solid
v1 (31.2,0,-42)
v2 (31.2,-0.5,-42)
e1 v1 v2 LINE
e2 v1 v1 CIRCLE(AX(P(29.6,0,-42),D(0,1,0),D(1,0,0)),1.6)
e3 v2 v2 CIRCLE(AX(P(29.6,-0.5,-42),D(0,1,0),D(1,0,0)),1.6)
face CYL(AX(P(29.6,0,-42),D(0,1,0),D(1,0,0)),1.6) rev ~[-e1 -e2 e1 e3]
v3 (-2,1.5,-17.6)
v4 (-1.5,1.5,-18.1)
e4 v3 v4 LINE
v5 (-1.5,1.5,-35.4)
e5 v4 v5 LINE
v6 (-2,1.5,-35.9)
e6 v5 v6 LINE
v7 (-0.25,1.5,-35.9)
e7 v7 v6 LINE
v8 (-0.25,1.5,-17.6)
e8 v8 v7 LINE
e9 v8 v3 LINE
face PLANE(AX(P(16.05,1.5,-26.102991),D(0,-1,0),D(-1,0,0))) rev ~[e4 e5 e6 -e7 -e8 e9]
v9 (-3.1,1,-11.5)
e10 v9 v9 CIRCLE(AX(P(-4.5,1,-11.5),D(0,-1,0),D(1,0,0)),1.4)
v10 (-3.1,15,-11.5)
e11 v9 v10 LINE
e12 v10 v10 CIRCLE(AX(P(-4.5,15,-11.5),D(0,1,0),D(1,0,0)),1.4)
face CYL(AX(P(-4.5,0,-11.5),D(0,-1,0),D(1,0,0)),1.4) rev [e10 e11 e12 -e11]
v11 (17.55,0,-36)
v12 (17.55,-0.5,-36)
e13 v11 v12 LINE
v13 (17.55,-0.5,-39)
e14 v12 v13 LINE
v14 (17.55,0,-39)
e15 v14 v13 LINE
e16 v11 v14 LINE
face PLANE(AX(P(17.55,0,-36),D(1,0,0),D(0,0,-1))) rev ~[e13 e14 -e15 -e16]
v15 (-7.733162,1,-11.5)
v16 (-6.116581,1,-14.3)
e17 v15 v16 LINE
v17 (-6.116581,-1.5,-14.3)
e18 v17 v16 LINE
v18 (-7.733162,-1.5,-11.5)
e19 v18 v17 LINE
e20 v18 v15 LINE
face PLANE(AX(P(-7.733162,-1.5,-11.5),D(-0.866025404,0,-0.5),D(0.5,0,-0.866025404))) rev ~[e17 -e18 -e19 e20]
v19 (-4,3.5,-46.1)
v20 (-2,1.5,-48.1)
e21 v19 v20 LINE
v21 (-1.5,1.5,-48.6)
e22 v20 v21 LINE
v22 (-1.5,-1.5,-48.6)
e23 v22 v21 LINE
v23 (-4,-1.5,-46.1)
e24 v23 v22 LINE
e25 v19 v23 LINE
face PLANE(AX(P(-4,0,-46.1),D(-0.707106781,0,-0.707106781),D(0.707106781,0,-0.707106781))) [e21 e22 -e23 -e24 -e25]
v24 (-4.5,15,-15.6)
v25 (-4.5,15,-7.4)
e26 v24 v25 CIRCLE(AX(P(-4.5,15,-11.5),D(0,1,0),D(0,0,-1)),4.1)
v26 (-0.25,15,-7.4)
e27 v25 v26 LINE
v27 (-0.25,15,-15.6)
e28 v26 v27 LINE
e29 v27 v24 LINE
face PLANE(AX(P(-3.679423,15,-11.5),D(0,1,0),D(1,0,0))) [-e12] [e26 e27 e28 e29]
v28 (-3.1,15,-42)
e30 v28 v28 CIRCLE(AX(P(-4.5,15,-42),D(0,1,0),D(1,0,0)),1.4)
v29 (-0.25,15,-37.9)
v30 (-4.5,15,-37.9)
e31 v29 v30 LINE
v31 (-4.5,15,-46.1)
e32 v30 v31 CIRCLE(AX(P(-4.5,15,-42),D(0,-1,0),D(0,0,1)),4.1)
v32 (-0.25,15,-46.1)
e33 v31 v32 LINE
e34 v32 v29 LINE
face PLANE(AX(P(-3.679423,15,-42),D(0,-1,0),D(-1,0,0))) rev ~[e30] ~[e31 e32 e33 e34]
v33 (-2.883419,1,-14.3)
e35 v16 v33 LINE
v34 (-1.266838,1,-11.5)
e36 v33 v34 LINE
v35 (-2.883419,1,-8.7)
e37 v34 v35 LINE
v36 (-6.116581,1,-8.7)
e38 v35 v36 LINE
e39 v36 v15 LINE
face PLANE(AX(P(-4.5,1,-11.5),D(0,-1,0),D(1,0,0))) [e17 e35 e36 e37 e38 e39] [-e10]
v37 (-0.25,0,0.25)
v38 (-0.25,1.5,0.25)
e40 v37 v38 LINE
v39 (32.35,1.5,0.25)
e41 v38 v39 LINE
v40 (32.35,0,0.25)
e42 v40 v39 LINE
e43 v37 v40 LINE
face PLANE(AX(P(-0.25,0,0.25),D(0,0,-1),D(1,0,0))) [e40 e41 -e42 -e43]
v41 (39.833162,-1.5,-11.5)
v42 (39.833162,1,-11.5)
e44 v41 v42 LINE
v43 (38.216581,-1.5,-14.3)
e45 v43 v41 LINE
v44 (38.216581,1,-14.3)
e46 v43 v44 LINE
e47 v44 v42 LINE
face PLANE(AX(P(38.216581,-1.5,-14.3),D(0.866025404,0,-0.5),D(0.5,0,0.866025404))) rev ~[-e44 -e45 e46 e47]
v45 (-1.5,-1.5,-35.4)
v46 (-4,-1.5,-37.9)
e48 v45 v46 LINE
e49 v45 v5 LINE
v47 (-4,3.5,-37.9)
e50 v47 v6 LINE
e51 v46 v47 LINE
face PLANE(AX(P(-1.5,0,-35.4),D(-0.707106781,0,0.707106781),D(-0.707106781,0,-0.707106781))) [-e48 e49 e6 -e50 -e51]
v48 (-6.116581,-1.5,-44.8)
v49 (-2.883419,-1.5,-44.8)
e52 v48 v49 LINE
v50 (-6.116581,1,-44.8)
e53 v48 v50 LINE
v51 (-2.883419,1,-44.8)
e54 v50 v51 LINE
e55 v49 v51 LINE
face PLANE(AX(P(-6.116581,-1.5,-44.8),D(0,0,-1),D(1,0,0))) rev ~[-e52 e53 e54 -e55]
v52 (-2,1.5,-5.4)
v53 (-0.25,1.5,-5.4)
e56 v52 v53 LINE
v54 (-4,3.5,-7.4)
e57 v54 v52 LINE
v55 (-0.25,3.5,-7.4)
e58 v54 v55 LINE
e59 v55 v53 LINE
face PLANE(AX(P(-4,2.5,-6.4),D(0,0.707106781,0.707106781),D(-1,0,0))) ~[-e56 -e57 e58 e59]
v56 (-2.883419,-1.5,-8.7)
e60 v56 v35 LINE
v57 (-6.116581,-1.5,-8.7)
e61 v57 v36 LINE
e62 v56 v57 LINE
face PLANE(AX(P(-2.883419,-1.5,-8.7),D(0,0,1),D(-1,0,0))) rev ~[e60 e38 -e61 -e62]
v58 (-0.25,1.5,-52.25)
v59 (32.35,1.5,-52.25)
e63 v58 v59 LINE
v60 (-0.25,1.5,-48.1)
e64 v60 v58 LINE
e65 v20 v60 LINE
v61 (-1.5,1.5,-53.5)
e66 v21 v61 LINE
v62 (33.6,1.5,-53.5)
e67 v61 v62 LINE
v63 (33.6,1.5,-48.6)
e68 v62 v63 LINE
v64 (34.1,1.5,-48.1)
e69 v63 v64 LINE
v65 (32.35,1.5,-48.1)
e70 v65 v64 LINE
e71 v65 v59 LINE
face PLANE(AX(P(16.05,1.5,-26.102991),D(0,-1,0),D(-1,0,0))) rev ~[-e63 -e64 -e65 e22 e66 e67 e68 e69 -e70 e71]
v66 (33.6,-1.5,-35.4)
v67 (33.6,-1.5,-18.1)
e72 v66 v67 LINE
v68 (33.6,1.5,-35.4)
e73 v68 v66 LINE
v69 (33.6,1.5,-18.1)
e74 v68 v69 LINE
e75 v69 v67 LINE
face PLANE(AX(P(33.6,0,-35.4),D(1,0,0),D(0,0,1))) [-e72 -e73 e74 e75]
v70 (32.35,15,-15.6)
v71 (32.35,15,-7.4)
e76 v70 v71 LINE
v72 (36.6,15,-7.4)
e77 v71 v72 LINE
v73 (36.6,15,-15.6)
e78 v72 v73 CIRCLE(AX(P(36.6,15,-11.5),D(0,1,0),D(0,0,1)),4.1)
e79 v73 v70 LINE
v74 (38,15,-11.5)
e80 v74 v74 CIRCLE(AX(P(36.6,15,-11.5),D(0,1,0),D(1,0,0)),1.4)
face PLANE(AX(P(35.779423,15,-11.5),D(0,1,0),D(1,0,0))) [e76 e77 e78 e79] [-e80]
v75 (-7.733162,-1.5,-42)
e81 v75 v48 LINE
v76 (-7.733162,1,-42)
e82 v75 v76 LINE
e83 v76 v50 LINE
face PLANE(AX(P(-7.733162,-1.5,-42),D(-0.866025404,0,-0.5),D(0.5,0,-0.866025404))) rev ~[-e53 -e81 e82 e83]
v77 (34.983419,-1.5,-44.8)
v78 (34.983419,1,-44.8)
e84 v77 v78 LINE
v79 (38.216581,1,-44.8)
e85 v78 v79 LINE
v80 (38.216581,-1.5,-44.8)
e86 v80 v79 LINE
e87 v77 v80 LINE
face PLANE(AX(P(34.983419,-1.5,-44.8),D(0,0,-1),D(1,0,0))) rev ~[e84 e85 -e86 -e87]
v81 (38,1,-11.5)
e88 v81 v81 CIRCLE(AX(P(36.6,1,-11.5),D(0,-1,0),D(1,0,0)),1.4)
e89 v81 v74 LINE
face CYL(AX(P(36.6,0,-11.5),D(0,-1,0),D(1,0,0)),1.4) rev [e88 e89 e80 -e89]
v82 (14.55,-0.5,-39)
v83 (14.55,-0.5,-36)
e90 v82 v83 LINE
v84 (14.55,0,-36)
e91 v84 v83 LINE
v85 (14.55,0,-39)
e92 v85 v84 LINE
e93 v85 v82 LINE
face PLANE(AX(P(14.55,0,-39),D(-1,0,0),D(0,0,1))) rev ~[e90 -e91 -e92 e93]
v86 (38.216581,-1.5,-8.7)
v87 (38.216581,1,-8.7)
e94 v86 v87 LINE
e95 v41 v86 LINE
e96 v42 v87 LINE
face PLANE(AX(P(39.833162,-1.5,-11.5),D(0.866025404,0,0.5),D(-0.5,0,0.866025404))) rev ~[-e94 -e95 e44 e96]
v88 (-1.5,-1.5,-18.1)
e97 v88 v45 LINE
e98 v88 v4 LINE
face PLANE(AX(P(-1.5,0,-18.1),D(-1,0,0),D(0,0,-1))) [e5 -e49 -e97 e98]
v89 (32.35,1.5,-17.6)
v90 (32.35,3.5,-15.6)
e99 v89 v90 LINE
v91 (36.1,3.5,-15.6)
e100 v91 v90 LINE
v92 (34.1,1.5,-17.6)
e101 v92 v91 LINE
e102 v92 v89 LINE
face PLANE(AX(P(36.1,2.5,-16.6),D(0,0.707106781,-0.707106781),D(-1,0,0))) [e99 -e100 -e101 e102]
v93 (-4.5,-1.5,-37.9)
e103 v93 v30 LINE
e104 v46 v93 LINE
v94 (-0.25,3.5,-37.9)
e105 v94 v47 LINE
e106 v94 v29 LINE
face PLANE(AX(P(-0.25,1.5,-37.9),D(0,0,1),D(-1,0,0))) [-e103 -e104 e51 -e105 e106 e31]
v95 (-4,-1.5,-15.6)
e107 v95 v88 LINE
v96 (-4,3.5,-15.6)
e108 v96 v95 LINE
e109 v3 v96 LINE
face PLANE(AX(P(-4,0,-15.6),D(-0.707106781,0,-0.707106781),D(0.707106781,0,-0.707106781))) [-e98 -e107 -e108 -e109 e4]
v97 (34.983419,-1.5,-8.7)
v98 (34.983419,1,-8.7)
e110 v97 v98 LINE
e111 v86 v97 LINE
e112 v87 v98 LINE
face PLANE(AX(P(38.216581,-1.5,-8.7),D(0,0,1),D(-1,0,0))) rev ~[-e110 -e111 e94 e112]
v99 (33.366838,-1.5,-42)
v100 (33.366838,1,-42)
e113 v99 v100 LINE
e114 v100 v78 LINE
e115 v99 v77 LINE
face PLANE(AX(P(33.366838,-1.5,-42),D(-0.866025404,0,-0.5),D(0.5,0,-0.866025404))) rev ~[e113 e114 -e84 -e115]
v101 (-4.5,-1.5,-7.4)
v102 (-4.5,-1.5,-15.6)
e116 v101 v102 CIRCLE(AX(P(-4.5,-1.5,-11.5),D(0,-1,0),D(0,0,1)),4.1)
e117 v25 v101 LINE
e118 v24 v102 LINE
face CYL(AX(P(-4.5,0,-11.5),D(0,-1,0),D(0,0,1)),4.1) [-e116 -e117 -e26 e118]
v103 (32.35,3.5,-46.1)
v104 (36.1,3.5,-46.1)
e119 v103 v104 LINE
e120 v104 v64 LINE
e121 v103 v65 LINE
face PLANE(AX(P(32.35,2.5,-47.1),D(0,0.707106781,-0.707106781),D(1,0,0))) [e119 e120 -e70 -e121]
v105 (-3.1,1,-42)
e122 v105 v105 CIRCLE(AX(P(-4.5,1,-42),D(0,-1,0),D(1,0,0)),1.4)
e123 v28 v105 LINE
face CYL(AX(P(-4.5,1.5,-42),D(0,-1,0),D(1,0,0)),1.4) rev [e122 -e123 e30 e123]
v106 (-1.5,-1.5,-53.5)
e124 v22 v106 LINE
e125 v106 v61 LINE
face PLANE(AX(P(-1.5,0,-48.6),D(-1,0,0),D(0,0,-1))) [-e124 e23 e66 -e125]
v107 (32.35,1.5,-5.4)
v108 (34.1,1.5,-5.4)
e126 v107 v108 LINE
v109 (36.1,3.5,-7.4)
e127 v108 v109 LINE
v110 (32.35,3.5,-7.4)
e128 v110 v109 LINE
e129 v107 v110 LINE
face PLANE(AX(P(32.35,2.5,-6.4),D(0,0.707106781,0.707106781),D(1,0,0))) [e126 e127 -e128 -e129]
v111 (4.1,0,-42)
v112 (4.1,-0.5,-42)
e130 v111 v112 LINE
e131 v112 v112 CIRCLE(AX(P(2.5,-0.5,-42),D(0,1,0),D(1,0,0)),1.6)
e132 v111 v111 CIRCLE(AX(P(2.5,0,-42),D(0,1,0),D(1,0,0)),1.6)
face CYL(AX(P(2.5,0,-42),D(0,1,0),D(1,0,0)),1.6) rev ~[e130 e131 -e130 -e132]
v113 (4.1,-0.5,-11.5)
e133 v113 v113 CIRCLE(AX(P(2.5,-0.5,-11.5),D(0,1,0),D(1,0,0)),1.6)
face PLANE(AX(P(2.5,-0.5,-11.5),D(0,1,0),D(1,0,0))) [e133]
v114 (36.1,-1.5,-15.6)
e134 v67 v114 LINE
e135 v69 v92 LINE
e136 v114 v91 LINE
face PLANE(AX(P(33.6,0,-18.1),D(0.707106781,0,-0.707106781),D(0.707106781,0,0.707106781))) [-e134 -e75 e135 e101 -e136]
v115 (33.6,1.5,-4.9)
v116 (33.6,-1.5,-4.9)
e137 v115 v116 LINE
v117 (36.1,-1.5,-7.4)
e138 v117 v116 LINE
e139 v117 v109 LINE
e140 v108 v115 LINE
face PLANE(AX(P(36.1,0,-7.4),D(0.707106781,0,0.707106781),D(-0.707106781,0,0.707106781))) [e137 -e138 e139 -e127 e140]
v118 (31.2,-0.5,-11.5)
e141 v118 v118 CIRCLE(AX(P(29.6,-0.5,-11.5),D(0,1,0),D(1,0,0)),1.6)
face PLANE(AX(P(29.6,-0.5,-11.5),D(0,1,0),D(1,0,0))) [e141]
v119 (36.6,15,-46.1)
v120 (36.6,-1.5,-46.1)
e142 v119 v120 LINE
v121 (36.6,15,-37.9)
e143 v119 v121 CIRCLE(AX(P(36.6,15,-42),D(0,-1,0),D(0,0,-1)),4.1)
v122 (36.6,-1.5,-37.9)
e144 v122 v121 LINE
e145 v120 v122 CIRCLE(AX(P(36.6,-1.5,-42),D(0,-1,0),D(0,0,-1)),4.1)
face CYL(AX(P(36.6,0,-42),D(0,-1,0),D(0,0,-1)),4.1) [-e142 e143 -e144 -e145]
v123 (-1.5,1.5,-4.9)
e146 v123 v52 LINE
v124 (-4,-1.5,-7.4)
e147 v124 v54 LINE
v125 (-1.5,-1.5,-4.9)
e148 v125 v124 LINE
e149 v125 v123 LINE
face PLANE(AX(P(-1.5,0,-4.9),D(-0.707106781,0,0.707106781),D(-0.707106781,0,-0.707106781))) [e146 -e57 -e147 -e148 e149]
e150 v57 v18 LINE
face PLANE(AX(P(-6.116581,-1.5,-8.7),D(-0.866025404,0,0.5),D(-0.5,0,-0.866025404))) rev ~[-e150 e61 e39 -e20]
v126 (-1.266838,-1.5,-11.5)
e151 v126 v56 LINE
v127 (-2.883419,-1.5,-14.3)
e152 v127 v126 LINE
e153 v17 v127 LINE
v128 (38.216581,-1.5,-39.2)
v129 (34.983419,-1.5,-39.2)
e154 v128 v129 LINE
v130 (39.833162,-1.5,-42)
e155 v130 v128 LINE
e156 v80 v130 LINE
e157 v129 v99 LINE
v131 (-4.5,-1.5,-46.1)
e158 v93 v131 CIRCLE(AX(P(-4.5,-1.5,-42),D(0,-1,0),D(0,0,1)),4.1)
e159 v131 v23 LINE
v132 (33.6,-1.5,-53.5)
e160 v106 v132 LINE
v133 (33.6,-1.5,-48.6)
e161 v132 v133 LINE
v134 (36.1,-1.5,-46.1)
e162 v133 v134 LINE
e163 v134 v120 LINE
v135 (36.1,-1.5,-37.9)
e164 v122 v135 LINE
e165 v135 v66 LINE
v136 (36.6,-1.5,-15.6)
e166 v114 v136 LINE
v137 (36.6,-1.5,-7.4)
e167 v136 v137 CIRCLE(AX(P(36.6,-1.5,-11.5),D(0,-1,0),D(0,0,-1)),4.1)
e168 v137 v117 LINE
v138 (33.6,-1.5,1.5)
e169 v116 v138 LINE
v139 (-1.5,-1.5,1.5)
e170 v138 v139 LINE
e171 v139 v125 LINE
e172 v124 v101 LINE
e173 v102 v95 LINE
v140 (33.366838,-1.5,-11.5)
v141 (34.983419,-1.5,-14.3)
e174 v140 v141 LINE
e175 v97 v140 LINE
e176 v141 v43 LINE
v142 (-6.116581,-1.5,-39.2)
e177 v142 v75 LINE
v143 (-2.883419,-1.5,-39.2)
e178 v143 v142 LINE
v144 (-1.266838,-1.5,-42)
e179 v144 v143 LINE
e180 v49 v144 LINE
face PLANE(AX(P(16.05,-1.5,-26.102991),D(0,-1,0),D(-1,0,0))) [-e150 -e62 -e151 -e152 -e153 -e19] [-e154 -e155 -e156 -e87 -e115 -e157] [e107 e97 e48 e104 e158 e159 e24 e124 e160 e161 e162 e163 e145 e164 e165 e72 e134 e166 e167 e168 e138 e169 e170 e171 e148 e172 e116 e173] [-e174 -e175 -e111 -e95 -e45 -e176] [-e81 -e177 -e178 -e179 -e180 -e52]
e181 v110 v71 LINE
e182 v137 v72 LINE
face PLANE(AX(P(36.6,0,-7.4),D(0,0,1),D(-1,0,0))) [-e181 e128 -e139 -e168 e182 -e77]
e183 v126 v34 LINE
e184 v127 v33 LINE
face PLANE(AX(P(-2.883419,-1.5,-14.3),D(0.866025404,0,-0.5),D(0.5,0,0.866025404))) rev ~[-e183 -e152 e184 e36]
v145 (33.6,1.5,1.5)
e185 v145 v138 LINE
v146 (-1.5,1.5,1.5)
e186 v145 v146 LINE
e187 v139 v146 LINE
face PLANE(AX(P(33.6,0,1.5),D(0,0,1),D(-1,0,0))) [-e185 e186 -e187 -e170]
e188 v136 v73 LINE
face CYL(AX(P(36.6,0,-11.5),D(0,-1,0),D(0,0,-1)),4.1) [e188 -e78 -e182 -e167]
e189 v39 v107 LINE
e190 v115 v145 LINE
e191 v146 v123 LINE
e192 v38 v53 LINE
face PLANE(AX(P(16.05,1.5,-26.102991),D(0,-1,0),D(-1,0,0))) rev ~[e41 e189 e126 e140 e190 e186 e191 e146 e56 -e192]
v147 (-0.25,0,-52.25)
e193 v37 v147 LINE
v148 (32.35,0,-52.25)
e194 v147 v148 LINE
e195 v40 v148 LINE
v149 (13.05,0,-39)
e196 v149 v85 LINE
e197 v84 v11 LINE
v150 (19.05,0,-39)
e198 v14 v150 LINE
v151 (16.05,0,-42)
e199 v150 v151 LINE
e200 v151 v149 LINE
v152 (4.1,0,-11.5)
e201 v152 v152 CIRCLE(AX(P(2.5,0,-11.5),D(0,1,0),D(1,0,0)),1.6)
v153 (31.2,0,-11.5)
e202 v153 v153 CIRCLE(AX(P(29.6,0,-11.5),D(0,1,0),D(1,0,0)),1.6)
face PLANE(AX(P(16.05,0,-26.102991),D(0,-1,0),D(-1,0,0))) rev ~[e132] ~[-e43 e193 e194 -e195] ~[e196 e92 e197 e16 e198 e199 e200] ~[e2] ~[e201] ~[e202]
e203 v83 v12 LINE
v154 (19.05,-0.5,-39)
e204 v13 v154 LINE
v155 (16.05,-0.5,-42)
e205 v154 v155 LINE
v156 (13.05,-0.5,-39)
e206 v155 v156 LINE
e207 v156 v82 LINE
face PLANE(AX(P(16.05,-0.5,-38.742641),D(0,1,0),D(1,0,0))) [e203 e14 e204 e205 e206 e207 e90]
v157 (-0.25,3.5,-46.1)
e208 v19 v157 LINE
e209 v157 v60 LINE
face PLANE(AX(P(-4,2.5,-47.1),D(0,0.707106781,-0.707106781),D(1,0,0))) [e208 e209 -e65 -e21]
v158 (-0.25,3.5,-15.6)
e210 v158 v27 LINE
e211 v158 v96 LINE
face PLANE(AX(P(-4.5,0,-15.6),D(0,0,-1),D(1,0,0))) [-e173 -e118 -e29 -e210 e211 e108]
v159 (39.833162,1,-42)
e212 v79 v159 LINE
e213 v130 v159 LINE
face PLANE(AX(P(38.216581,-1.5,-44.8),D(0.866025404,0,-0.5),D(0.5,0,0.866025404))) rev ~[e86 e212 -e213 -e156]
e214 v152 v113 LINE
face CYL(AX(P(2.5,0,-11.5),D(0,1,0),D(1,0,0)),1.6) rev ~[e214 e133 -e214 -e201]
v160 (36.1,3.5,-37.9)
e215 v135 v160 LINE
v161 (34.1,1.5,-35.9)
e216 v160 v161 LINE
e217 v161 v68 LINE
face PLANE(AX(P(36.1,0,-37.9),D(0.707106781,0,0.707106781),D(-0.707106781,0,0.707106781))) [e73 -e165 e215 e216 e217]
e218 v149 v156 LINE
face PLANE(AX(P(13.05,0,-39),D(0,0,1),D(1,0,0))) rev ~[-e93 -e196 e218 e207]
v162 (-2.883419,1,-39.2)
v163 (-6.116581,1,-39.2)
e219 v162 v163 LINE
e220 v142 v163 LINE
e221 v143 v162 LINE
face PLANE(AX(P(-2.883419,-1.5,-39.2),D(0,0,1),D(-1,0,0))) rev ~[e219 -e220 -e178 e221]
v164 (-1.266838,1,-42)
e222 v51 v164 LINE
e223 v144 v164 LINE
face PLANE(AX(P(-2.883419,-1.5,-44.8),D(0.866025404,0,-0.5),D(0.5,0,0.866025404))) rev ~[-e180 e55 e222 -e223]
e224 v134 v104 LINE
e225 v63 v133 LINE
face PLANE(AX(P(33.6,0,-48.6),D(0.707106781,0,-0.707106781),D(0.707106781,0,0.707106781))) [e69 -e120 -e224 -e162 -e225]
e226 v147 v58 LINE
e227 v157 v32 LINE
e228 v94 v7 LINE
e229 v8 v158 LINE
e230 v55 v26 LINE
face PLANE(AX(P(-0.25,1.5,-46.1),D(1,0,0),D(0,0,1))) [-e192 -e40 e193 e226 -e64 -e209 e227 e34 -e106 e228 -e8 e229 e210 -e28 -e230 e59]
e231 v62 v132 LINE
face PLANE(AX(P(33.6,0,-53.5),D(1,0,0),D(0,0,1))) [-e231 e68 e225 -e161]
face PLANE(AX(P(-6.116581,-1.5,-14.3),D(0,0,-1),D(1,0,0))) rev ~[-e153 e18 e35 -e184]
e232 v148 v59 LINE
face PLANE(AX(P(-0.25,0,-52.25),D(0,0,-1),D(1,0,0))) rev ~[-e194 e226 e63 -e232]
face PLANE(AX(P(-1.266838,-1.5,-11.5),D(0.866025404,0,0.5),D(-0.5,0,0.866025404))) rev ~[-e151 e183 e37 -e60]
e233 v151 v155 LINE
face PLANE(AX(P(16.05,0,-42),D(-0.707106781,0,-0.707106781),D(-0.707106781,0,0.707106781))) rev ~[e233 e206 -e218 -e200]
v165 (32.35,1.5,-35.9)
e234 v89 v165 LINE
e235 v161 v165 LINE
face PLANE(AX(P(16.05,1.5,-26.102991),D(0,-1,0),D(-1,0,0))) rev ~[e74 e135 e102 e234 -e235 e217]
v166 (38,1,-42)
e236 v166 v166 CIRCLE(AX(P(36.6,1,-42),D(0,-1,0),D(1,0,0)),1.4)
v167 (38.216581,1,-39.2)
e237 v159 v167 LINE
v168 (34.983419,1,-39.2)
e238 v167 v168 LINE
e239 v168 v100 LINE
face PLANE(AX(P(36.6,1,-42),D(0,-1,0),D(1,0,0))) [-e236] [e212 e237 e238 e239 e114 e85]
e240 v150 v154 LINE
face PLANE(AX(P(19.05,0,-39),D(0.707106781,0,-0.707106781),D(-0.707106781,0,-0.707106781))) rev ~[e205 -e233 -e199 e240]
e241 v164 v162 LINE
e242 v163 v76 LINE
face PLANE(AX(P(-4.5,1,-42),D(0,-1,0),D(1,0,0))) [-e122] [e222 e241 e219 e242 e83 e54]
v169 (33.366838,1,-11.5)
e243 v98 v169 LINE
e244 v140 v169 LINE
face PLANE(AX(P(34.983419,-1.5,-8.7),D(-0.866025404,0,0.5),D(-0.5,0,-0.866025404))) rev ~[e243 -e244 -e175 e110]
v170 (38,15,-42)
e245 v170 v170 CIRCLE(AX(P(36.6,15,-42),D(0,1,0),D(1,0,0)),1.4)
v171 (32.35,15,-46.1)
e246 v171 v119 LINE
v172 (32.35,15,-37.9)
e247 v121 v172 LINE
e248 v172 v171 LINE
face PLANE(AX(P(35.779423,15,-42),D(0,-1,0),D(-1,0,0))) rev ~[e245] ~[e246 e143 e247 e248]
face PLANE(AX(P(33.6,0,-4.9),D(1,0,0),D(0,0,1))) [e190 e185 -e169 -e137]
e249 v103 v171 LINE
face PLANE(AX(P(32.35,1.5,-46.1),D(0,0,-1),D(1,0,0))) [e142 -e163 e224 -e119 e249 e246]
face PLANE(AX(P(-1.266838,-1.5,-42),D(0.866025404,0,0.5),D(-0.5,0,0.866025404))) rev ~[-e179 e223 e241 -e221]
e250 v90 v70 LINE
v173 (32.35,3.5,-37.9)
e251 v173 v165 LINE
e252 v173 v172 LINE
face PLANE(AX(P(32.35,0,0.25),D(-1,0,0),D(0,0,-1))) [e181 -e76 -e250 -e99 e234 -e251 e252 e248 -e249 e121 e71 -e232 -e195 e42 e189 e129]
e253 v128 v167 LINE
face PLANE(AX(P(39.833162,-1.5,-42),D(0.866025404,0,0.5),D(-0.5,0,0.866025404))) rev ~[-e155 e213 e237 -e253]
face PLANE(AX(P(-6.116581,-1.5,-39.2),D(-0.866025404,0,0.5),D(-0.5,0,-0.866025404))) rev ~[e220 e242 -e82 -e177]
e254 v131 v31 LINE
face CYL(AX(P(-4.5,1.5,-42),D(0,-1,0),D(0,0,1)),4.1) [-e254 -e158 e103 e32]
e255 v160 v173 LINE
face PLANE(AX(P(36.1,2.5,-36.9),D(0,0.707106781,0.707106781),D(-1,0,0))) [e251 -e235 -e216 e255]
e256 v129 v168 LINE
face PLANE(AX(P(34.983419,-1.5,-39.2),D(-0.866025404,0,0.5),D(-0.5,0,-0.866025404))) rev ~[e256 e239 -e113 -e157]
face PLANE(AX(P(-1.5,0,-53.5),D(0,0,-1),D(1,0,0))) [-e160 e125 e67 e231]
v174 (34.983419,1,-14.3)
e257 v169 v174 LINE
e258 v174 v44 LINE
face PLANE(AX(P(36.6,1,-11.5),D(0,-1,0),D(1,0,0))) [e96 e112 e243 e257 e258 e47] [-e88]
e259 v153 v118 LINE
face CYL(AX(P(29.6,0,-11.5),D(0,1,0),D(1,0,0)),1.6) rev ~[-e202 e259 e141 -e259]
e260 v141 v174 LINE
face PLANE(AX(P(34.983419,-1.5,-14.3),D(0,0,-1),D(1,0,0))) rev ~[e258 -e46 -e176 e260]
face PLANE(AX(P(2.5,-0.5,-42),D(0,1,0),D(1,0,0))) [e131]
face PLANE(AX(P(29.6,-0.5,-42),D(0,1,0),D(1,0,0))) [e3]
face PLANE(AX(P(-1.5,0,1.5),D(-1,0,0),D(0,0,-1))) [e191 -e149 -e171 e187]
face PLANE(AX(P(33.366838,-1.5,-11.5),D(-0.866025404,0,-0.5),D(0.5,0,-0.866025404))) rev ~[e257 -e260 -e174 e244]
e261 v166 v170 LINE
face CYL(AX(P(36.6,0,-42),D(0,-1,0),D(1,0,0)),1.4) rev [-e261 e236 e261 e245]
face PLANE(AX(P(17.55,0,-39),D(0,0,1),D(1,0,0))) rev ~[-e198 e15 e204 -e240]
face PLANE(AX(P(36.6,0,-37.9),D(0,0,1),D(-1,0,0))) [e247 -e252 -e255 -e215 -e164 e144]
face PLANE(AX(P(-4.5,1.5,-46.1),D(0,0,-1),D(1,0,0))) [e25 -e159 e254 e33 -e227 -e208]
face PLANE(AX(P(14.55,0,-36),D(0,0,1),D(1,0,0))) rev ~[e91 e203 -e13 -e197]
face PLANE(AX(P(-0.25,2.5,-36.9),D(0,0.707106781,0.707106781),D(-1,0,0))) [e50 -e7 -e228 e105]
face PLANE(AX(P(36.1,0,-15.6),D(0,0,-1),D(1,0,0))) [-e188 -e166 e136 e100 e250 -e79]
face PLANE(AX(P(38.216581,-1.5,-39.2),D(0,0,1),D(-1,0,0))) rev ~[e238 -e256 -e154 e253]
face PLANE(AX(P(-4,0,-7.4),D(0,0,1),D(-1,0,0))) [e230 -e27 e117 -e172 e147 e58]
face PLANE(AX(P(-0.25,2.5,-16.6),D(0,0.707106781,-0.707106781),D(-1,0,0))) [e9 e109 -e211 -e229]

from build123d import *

# Parameters (mm, degrees)
SKETCH2_R               = 1.4
BOSS_EXTRUDE1_DEPTH     = 1.5
SKETCH5_R               = 1.6
CUT_EXTRUDE1_DEPTH      = 0.5
SKETCH3_R               = 1.4
SKETCH3_W               = 32.6
SKETCH3_H               = 52.5
BOSS_EXTRUDE2_DEPTH     = 1.5
SKETCH4_R               = 1.4
BOSS_EXTRUDE3_DEPTH     = 13.5
CHAMFER1_SIZE           = 2
CUT_EXTRUDE2_DEPTH      = 1
CUT_EXTRUDE2_DEPTH_BACK = 2.5


with BuildPart() as part:
    # Sketch2 → Boss-Extrude1 (new body)
    with BuildSketch(Plane(origin=(0, 0, 0), x_dir=(1, 0, 0), z_dir=(0, 1, 0))):
        with BuildLine():
            Line((-1.5, -1.5), (-1.5, 4.9))
            Line((-1.5, 4.9), (-4, 7.4))
            Line((-4, 7.4), (-4.5, 7.4))
            ThreePointArc((-4.5, 7.4), (-8.6, 11.5), (-4.5, 15.6))
            Line((-4.5, 15.6), (-4, 15.6))
            Line((-4, 15.6), (-1.5, 18.1))
            Line((-1.5, 18.1), (-1.5, 35.4))
            Line((-1.5, 35.4), (-4, 37.9))
            Line((-4, 37.9), (-4.5, 37.9))
            ThreePointArc((-4.5, 37.9), (-8.6, 42), (-4.5, 46.1))
            Line((-4.5, 46.1), (-4, 46.1))
            Line((-4, 46.1), (-1.5, 48.6))
            Line((-1.5, 48.6), (-1.5, 53.5))
            Line((-1.5, 53.5), (33.6, 53.5))
            Line((33.6, 53.5), (33.6, 48.6))
            Line((33.6, 48.6), (36.1, 46.1))
            Line((36.1, 46.1), (36.6, 46.1))
            ThreePointArc((36.6, 46.1), (40.7, 42), (36.6, 37.9))
            Line((36.6, 37.9), (36.1, 37.9))
            Line((36.1, 37.9), (33.6, 35.4))
            Line((33.6, 35.4), (33.6, 18.1))
            Line((33.6, 18.1), (36.1, 15.6))
            Line((36.1, 15.6), (36.6, 15.6))
            ThreePointArc((36.6, 15.6), (40.7, 11.5), (36.6, 7.4))
            Line((36.6, 7.4), (36.1, 7.4))
            Line((36.1, 7.4), (33.6, 4.9))
            Line((33.6, 4.9), (33.6, -1.5))
            Line((33.6, -1.5), (-1.5, -1.5))
        make_face()
        with Locations((-4.5, 42)):
            Circle(SKETCH2_R, mode=Mode.SUBTRACT)
        with Locations((-4.5, 11.5)):
            Circle(SKETCH2_R, mode=Mode.SUBTRACT)
        with Locations((36.6, 11.5)):
            Circle(SKETCH2_R, mode=Mode.SUBTRACT)
        with Locations((36.6, 42)):
            Circle(SKETCH2_R, mode=Mode.SUBTRACT)
    extrude(amount=-BOSS_EXTRUDE1_DEPTH)

    # Sketch5 → Cut-Extrude1 (cut)
    with BuildSketch(Plane(origin=(0, 0, 0), x_dir=(1, 0, 0), z_dir=(0, 1, 0))):
        with Locations((2.5, 42)):
            Circle(SKETCH5_R)
        with Locations((29.6, 42)):
            Circle(SKETCH5_R)
        with Locations((29.6, 11.5)):
            Circle(SKETCH5_R)
        with Locations((2.5, 11.5)):
            Circle(SKETCH5_R)
        Polygon((14.55, 36), (17.55, 36), (17.55, 39), (19.05, 39), (16.05, 42), (13.05, 39), (14.55, 39), align=None)
    extrude(amount=-CUT_EXTRUDE1_DEPTH, mode=Mode.SUBTRACT)

    # Sketch3 → Boss-Extrude2 (add)
    with BuildSketch(Plane(origin=(0, 0, 0), x_dir=(1, 0, 0), z_dir=(0, 1, 0))):
        with BuildLine():
            Line((-1.5, 53.5), (33.6, 53.5))
            Line((33.6, 53.5), (33.6, 48.6))
            Line((33.6, 48.6), (36.1, 46.1))
            Line((36.1, 46.1), (36.6, 46.1))
            ThreePointArc((36.6, 46.1), (40.7, 42), (36.6, 37.9))
            Line((36.6, 37.9), (36.1, 37.9))
            Line((36.1, 37.9), (33.6, 35.4))
            Line((33.6, 35.4), (33.6, 18.1))
            Line((33.6, 18.1), (36.1, 15.6))
            Line((36.1, 15.6), (36.6, 15.6))
            ThreePointArc((36.6, 15.6), (40.7, 11.5), (36.6, 7.4))
            Line((36.6, 7.4), (36.1, 7.4))
            Line((36.1, 7.4), (33.6, 4.9))
            Line((33.6, 4.9), (33.6, -1.5))
            Line((33.6, -1.5), (-1.5, -1.5))
            Line((-1.5, -1.5), (-1.5, 4.9))
            Line((-1.5, 4.9), (-4, 7.4))
            Line((-4, 7.4), (-4.5, 7.4))
            ThreePointArc((-4.5, 7.4), (-8.6, 11.5), (-4.5, 15.6))
            Line((-4.5, 15.6), (-4, 15.6))
            Line((-4, 15.6), (-1.5, 18.1))
            Line((-1.5, 18.1), (-1.5, 35.4))
            Line((-1.5, 35.4), (-4, 37.9))
            Line((-4, 37.9), (-4.5, 37.9))
            ThreePointArc((-4.5, 37.9), (-8.6, 42), (-4.5, 46.1))
            Line((-4.5, 46.1), (-4, 46.1))
            Line((-4, 46.1), (-1.5, 48.6))
            Line((-1.5, 48.6), (-1.5, 53.5))
        make_face()
        with Locations((-4.5, 42)):
            Circle(SKETCH3_R, mode=Mode.SUBTRACT)
        with Locations((36.6, 42)):
            Circle(SKETCH3_R, mode=Mode.SUBTRACT)
        with Locations((36.6, 11.5)):
            Circle(SKETCH3_R, mode=Mode.SUBTRACT)
        with Locations((-4.5, 11.5)):
            Circle(SKETCH3_R, mode=Mode.SUBTRACT)
        with Locations((16.05, 26)):
            Rectangle(SKETCH3_W, SKETCH3_H, mode=Mode.SUBTRACT)
    extrude(amount=BOSS_EXTRUDE2_DEPTH)

    # Sketch4 → Boss-Extrude3 (add)
    with BuildSketch(Plane(origin=(0, 1.5, 0), x_dir=(1, 0, 0), z_dir=(0, 1, 0))):
        with BuildLine():
            Line((-4.5, 46.1), (-0.25, 46.1))
            Line((-0.25, 46.1), (-0.25, 37.9))
            Line((-0.25, 37.9), (-4.5, 37.9))
            ThreePointArc((-4.5, 37.9), (-8.6, 42), (-4.5, 46.1))
        make_face()
        with Locations((-4.5, 42)):
            Circle(SKETCH4_R, mode=Mode.SUBTRACT)
        with BuildLine():
            Line((-4.5, 7.4), (-0.25, 7.4))
            Line((-0.25, 7.4), (-0.25, 15.6))
            Line((-0.25, 15.6), (-4.5, 15.6))
            ThreePointArc((-4.5, 15.6), (-8.6, 11.5), (-4.5, 7.4))
        make_face()
        with Locations((-4.5, 11.5)):
            Circle(SKETCH4_R, mode=Mode.SUBTRACT)
        with BuildLine():
            Line((32.35, 15.6), (32.35, 7.4))
            Line((32.35, 7.4), (36.6, 7.4))
            ThreePointArc((36.6, 7.4), (40.7, 11.5), (36.6, 15.6))
            Line((36.6, 15.6), (32.35, 15.6))
        make_face()
        with Locations((36.6, 11.5)):
            Circle(SKETCH4_R, mode=Mode.SUBTRACT)
        with BuildLine():
            Line((32.35, 46.1), (36.6, 46.1))
            ThreePointArc((36.6, 46.1), (40.7, 42), (36.6, 37.9))
            Line((36.6, 37.9), (32.35, 37.9))
            Line((32.35, 37.9), (32.35, 46.1))
        make_face()
        with Locations((36.6, 42)):
            Circle(SKETCH4_R, mode=Mode.SUBTRACT)
    extrude(amount=BOSS_EXTRUDE3_DEPTH)

    # Chamfer1
    chamfer1_edges = [part.edges().sort_by_distance(p)[0] for p in [
        (34.225, 1.5, -37.9),
        (34.225, 1.5, -46.1),
        (34.225, 1.5, -15.6),
        (34.225, 1.5, -7.4),
        (-2.125, 1.5, -7.4),
        (-2.125, 1.5, -15.6),
        (-2.125, 1.5, -37.9),
        (-2.125, 1.5, -46.1),
    ]]
    chamfer(chamfer1_edges, length=CHAMFER1_SIZE)

    # Sketch6 → Cut-Extrude2 (cut, two sides)
    with BuildSketch(Plane.XZ.offset(1.5)) as cut_extrude2_sk:
        Polygon((-1.266838493, -42), (-2.883419246, -39.2), (-6.116580754, -39.2), (-7.733161507, -42), (-6.116580754, -44.8), (-2.883419246, -44.8), align=None)
        Polygon((33.366838493, -42), (34.983419246, -44.8), (38.216580754, -44.8), (39.833161507, -42), (38.216580754, -39.2), (34.983419246, -39.2), align=None)
        Polygon((-1.266838493, -11.5), (-2.883419246, -8.7), (-6.116580754, -8.7), (-7.733161507, -11.5), (-6.116580754, -14.3), (-2.883419246, -14.3), align=None)
        Polygon((33.366838493, -11.5), (34.983419246, -14.3), (38.216580754, -14.3), (39.833161507, -11.5), (38.216580754, -8.7), (34.983419246, -8.7), align=None)
    extrude(amount=CUT_EXTRUDE2_DEPTH, mode=Mode.SUBTRACT)
    extrude(cut_extrude2_sk.sketch, amount=-CUT_EXTRUDE2_DEPTH_BACK, mode=Mode.SUBTRACT)


solid = part.part
